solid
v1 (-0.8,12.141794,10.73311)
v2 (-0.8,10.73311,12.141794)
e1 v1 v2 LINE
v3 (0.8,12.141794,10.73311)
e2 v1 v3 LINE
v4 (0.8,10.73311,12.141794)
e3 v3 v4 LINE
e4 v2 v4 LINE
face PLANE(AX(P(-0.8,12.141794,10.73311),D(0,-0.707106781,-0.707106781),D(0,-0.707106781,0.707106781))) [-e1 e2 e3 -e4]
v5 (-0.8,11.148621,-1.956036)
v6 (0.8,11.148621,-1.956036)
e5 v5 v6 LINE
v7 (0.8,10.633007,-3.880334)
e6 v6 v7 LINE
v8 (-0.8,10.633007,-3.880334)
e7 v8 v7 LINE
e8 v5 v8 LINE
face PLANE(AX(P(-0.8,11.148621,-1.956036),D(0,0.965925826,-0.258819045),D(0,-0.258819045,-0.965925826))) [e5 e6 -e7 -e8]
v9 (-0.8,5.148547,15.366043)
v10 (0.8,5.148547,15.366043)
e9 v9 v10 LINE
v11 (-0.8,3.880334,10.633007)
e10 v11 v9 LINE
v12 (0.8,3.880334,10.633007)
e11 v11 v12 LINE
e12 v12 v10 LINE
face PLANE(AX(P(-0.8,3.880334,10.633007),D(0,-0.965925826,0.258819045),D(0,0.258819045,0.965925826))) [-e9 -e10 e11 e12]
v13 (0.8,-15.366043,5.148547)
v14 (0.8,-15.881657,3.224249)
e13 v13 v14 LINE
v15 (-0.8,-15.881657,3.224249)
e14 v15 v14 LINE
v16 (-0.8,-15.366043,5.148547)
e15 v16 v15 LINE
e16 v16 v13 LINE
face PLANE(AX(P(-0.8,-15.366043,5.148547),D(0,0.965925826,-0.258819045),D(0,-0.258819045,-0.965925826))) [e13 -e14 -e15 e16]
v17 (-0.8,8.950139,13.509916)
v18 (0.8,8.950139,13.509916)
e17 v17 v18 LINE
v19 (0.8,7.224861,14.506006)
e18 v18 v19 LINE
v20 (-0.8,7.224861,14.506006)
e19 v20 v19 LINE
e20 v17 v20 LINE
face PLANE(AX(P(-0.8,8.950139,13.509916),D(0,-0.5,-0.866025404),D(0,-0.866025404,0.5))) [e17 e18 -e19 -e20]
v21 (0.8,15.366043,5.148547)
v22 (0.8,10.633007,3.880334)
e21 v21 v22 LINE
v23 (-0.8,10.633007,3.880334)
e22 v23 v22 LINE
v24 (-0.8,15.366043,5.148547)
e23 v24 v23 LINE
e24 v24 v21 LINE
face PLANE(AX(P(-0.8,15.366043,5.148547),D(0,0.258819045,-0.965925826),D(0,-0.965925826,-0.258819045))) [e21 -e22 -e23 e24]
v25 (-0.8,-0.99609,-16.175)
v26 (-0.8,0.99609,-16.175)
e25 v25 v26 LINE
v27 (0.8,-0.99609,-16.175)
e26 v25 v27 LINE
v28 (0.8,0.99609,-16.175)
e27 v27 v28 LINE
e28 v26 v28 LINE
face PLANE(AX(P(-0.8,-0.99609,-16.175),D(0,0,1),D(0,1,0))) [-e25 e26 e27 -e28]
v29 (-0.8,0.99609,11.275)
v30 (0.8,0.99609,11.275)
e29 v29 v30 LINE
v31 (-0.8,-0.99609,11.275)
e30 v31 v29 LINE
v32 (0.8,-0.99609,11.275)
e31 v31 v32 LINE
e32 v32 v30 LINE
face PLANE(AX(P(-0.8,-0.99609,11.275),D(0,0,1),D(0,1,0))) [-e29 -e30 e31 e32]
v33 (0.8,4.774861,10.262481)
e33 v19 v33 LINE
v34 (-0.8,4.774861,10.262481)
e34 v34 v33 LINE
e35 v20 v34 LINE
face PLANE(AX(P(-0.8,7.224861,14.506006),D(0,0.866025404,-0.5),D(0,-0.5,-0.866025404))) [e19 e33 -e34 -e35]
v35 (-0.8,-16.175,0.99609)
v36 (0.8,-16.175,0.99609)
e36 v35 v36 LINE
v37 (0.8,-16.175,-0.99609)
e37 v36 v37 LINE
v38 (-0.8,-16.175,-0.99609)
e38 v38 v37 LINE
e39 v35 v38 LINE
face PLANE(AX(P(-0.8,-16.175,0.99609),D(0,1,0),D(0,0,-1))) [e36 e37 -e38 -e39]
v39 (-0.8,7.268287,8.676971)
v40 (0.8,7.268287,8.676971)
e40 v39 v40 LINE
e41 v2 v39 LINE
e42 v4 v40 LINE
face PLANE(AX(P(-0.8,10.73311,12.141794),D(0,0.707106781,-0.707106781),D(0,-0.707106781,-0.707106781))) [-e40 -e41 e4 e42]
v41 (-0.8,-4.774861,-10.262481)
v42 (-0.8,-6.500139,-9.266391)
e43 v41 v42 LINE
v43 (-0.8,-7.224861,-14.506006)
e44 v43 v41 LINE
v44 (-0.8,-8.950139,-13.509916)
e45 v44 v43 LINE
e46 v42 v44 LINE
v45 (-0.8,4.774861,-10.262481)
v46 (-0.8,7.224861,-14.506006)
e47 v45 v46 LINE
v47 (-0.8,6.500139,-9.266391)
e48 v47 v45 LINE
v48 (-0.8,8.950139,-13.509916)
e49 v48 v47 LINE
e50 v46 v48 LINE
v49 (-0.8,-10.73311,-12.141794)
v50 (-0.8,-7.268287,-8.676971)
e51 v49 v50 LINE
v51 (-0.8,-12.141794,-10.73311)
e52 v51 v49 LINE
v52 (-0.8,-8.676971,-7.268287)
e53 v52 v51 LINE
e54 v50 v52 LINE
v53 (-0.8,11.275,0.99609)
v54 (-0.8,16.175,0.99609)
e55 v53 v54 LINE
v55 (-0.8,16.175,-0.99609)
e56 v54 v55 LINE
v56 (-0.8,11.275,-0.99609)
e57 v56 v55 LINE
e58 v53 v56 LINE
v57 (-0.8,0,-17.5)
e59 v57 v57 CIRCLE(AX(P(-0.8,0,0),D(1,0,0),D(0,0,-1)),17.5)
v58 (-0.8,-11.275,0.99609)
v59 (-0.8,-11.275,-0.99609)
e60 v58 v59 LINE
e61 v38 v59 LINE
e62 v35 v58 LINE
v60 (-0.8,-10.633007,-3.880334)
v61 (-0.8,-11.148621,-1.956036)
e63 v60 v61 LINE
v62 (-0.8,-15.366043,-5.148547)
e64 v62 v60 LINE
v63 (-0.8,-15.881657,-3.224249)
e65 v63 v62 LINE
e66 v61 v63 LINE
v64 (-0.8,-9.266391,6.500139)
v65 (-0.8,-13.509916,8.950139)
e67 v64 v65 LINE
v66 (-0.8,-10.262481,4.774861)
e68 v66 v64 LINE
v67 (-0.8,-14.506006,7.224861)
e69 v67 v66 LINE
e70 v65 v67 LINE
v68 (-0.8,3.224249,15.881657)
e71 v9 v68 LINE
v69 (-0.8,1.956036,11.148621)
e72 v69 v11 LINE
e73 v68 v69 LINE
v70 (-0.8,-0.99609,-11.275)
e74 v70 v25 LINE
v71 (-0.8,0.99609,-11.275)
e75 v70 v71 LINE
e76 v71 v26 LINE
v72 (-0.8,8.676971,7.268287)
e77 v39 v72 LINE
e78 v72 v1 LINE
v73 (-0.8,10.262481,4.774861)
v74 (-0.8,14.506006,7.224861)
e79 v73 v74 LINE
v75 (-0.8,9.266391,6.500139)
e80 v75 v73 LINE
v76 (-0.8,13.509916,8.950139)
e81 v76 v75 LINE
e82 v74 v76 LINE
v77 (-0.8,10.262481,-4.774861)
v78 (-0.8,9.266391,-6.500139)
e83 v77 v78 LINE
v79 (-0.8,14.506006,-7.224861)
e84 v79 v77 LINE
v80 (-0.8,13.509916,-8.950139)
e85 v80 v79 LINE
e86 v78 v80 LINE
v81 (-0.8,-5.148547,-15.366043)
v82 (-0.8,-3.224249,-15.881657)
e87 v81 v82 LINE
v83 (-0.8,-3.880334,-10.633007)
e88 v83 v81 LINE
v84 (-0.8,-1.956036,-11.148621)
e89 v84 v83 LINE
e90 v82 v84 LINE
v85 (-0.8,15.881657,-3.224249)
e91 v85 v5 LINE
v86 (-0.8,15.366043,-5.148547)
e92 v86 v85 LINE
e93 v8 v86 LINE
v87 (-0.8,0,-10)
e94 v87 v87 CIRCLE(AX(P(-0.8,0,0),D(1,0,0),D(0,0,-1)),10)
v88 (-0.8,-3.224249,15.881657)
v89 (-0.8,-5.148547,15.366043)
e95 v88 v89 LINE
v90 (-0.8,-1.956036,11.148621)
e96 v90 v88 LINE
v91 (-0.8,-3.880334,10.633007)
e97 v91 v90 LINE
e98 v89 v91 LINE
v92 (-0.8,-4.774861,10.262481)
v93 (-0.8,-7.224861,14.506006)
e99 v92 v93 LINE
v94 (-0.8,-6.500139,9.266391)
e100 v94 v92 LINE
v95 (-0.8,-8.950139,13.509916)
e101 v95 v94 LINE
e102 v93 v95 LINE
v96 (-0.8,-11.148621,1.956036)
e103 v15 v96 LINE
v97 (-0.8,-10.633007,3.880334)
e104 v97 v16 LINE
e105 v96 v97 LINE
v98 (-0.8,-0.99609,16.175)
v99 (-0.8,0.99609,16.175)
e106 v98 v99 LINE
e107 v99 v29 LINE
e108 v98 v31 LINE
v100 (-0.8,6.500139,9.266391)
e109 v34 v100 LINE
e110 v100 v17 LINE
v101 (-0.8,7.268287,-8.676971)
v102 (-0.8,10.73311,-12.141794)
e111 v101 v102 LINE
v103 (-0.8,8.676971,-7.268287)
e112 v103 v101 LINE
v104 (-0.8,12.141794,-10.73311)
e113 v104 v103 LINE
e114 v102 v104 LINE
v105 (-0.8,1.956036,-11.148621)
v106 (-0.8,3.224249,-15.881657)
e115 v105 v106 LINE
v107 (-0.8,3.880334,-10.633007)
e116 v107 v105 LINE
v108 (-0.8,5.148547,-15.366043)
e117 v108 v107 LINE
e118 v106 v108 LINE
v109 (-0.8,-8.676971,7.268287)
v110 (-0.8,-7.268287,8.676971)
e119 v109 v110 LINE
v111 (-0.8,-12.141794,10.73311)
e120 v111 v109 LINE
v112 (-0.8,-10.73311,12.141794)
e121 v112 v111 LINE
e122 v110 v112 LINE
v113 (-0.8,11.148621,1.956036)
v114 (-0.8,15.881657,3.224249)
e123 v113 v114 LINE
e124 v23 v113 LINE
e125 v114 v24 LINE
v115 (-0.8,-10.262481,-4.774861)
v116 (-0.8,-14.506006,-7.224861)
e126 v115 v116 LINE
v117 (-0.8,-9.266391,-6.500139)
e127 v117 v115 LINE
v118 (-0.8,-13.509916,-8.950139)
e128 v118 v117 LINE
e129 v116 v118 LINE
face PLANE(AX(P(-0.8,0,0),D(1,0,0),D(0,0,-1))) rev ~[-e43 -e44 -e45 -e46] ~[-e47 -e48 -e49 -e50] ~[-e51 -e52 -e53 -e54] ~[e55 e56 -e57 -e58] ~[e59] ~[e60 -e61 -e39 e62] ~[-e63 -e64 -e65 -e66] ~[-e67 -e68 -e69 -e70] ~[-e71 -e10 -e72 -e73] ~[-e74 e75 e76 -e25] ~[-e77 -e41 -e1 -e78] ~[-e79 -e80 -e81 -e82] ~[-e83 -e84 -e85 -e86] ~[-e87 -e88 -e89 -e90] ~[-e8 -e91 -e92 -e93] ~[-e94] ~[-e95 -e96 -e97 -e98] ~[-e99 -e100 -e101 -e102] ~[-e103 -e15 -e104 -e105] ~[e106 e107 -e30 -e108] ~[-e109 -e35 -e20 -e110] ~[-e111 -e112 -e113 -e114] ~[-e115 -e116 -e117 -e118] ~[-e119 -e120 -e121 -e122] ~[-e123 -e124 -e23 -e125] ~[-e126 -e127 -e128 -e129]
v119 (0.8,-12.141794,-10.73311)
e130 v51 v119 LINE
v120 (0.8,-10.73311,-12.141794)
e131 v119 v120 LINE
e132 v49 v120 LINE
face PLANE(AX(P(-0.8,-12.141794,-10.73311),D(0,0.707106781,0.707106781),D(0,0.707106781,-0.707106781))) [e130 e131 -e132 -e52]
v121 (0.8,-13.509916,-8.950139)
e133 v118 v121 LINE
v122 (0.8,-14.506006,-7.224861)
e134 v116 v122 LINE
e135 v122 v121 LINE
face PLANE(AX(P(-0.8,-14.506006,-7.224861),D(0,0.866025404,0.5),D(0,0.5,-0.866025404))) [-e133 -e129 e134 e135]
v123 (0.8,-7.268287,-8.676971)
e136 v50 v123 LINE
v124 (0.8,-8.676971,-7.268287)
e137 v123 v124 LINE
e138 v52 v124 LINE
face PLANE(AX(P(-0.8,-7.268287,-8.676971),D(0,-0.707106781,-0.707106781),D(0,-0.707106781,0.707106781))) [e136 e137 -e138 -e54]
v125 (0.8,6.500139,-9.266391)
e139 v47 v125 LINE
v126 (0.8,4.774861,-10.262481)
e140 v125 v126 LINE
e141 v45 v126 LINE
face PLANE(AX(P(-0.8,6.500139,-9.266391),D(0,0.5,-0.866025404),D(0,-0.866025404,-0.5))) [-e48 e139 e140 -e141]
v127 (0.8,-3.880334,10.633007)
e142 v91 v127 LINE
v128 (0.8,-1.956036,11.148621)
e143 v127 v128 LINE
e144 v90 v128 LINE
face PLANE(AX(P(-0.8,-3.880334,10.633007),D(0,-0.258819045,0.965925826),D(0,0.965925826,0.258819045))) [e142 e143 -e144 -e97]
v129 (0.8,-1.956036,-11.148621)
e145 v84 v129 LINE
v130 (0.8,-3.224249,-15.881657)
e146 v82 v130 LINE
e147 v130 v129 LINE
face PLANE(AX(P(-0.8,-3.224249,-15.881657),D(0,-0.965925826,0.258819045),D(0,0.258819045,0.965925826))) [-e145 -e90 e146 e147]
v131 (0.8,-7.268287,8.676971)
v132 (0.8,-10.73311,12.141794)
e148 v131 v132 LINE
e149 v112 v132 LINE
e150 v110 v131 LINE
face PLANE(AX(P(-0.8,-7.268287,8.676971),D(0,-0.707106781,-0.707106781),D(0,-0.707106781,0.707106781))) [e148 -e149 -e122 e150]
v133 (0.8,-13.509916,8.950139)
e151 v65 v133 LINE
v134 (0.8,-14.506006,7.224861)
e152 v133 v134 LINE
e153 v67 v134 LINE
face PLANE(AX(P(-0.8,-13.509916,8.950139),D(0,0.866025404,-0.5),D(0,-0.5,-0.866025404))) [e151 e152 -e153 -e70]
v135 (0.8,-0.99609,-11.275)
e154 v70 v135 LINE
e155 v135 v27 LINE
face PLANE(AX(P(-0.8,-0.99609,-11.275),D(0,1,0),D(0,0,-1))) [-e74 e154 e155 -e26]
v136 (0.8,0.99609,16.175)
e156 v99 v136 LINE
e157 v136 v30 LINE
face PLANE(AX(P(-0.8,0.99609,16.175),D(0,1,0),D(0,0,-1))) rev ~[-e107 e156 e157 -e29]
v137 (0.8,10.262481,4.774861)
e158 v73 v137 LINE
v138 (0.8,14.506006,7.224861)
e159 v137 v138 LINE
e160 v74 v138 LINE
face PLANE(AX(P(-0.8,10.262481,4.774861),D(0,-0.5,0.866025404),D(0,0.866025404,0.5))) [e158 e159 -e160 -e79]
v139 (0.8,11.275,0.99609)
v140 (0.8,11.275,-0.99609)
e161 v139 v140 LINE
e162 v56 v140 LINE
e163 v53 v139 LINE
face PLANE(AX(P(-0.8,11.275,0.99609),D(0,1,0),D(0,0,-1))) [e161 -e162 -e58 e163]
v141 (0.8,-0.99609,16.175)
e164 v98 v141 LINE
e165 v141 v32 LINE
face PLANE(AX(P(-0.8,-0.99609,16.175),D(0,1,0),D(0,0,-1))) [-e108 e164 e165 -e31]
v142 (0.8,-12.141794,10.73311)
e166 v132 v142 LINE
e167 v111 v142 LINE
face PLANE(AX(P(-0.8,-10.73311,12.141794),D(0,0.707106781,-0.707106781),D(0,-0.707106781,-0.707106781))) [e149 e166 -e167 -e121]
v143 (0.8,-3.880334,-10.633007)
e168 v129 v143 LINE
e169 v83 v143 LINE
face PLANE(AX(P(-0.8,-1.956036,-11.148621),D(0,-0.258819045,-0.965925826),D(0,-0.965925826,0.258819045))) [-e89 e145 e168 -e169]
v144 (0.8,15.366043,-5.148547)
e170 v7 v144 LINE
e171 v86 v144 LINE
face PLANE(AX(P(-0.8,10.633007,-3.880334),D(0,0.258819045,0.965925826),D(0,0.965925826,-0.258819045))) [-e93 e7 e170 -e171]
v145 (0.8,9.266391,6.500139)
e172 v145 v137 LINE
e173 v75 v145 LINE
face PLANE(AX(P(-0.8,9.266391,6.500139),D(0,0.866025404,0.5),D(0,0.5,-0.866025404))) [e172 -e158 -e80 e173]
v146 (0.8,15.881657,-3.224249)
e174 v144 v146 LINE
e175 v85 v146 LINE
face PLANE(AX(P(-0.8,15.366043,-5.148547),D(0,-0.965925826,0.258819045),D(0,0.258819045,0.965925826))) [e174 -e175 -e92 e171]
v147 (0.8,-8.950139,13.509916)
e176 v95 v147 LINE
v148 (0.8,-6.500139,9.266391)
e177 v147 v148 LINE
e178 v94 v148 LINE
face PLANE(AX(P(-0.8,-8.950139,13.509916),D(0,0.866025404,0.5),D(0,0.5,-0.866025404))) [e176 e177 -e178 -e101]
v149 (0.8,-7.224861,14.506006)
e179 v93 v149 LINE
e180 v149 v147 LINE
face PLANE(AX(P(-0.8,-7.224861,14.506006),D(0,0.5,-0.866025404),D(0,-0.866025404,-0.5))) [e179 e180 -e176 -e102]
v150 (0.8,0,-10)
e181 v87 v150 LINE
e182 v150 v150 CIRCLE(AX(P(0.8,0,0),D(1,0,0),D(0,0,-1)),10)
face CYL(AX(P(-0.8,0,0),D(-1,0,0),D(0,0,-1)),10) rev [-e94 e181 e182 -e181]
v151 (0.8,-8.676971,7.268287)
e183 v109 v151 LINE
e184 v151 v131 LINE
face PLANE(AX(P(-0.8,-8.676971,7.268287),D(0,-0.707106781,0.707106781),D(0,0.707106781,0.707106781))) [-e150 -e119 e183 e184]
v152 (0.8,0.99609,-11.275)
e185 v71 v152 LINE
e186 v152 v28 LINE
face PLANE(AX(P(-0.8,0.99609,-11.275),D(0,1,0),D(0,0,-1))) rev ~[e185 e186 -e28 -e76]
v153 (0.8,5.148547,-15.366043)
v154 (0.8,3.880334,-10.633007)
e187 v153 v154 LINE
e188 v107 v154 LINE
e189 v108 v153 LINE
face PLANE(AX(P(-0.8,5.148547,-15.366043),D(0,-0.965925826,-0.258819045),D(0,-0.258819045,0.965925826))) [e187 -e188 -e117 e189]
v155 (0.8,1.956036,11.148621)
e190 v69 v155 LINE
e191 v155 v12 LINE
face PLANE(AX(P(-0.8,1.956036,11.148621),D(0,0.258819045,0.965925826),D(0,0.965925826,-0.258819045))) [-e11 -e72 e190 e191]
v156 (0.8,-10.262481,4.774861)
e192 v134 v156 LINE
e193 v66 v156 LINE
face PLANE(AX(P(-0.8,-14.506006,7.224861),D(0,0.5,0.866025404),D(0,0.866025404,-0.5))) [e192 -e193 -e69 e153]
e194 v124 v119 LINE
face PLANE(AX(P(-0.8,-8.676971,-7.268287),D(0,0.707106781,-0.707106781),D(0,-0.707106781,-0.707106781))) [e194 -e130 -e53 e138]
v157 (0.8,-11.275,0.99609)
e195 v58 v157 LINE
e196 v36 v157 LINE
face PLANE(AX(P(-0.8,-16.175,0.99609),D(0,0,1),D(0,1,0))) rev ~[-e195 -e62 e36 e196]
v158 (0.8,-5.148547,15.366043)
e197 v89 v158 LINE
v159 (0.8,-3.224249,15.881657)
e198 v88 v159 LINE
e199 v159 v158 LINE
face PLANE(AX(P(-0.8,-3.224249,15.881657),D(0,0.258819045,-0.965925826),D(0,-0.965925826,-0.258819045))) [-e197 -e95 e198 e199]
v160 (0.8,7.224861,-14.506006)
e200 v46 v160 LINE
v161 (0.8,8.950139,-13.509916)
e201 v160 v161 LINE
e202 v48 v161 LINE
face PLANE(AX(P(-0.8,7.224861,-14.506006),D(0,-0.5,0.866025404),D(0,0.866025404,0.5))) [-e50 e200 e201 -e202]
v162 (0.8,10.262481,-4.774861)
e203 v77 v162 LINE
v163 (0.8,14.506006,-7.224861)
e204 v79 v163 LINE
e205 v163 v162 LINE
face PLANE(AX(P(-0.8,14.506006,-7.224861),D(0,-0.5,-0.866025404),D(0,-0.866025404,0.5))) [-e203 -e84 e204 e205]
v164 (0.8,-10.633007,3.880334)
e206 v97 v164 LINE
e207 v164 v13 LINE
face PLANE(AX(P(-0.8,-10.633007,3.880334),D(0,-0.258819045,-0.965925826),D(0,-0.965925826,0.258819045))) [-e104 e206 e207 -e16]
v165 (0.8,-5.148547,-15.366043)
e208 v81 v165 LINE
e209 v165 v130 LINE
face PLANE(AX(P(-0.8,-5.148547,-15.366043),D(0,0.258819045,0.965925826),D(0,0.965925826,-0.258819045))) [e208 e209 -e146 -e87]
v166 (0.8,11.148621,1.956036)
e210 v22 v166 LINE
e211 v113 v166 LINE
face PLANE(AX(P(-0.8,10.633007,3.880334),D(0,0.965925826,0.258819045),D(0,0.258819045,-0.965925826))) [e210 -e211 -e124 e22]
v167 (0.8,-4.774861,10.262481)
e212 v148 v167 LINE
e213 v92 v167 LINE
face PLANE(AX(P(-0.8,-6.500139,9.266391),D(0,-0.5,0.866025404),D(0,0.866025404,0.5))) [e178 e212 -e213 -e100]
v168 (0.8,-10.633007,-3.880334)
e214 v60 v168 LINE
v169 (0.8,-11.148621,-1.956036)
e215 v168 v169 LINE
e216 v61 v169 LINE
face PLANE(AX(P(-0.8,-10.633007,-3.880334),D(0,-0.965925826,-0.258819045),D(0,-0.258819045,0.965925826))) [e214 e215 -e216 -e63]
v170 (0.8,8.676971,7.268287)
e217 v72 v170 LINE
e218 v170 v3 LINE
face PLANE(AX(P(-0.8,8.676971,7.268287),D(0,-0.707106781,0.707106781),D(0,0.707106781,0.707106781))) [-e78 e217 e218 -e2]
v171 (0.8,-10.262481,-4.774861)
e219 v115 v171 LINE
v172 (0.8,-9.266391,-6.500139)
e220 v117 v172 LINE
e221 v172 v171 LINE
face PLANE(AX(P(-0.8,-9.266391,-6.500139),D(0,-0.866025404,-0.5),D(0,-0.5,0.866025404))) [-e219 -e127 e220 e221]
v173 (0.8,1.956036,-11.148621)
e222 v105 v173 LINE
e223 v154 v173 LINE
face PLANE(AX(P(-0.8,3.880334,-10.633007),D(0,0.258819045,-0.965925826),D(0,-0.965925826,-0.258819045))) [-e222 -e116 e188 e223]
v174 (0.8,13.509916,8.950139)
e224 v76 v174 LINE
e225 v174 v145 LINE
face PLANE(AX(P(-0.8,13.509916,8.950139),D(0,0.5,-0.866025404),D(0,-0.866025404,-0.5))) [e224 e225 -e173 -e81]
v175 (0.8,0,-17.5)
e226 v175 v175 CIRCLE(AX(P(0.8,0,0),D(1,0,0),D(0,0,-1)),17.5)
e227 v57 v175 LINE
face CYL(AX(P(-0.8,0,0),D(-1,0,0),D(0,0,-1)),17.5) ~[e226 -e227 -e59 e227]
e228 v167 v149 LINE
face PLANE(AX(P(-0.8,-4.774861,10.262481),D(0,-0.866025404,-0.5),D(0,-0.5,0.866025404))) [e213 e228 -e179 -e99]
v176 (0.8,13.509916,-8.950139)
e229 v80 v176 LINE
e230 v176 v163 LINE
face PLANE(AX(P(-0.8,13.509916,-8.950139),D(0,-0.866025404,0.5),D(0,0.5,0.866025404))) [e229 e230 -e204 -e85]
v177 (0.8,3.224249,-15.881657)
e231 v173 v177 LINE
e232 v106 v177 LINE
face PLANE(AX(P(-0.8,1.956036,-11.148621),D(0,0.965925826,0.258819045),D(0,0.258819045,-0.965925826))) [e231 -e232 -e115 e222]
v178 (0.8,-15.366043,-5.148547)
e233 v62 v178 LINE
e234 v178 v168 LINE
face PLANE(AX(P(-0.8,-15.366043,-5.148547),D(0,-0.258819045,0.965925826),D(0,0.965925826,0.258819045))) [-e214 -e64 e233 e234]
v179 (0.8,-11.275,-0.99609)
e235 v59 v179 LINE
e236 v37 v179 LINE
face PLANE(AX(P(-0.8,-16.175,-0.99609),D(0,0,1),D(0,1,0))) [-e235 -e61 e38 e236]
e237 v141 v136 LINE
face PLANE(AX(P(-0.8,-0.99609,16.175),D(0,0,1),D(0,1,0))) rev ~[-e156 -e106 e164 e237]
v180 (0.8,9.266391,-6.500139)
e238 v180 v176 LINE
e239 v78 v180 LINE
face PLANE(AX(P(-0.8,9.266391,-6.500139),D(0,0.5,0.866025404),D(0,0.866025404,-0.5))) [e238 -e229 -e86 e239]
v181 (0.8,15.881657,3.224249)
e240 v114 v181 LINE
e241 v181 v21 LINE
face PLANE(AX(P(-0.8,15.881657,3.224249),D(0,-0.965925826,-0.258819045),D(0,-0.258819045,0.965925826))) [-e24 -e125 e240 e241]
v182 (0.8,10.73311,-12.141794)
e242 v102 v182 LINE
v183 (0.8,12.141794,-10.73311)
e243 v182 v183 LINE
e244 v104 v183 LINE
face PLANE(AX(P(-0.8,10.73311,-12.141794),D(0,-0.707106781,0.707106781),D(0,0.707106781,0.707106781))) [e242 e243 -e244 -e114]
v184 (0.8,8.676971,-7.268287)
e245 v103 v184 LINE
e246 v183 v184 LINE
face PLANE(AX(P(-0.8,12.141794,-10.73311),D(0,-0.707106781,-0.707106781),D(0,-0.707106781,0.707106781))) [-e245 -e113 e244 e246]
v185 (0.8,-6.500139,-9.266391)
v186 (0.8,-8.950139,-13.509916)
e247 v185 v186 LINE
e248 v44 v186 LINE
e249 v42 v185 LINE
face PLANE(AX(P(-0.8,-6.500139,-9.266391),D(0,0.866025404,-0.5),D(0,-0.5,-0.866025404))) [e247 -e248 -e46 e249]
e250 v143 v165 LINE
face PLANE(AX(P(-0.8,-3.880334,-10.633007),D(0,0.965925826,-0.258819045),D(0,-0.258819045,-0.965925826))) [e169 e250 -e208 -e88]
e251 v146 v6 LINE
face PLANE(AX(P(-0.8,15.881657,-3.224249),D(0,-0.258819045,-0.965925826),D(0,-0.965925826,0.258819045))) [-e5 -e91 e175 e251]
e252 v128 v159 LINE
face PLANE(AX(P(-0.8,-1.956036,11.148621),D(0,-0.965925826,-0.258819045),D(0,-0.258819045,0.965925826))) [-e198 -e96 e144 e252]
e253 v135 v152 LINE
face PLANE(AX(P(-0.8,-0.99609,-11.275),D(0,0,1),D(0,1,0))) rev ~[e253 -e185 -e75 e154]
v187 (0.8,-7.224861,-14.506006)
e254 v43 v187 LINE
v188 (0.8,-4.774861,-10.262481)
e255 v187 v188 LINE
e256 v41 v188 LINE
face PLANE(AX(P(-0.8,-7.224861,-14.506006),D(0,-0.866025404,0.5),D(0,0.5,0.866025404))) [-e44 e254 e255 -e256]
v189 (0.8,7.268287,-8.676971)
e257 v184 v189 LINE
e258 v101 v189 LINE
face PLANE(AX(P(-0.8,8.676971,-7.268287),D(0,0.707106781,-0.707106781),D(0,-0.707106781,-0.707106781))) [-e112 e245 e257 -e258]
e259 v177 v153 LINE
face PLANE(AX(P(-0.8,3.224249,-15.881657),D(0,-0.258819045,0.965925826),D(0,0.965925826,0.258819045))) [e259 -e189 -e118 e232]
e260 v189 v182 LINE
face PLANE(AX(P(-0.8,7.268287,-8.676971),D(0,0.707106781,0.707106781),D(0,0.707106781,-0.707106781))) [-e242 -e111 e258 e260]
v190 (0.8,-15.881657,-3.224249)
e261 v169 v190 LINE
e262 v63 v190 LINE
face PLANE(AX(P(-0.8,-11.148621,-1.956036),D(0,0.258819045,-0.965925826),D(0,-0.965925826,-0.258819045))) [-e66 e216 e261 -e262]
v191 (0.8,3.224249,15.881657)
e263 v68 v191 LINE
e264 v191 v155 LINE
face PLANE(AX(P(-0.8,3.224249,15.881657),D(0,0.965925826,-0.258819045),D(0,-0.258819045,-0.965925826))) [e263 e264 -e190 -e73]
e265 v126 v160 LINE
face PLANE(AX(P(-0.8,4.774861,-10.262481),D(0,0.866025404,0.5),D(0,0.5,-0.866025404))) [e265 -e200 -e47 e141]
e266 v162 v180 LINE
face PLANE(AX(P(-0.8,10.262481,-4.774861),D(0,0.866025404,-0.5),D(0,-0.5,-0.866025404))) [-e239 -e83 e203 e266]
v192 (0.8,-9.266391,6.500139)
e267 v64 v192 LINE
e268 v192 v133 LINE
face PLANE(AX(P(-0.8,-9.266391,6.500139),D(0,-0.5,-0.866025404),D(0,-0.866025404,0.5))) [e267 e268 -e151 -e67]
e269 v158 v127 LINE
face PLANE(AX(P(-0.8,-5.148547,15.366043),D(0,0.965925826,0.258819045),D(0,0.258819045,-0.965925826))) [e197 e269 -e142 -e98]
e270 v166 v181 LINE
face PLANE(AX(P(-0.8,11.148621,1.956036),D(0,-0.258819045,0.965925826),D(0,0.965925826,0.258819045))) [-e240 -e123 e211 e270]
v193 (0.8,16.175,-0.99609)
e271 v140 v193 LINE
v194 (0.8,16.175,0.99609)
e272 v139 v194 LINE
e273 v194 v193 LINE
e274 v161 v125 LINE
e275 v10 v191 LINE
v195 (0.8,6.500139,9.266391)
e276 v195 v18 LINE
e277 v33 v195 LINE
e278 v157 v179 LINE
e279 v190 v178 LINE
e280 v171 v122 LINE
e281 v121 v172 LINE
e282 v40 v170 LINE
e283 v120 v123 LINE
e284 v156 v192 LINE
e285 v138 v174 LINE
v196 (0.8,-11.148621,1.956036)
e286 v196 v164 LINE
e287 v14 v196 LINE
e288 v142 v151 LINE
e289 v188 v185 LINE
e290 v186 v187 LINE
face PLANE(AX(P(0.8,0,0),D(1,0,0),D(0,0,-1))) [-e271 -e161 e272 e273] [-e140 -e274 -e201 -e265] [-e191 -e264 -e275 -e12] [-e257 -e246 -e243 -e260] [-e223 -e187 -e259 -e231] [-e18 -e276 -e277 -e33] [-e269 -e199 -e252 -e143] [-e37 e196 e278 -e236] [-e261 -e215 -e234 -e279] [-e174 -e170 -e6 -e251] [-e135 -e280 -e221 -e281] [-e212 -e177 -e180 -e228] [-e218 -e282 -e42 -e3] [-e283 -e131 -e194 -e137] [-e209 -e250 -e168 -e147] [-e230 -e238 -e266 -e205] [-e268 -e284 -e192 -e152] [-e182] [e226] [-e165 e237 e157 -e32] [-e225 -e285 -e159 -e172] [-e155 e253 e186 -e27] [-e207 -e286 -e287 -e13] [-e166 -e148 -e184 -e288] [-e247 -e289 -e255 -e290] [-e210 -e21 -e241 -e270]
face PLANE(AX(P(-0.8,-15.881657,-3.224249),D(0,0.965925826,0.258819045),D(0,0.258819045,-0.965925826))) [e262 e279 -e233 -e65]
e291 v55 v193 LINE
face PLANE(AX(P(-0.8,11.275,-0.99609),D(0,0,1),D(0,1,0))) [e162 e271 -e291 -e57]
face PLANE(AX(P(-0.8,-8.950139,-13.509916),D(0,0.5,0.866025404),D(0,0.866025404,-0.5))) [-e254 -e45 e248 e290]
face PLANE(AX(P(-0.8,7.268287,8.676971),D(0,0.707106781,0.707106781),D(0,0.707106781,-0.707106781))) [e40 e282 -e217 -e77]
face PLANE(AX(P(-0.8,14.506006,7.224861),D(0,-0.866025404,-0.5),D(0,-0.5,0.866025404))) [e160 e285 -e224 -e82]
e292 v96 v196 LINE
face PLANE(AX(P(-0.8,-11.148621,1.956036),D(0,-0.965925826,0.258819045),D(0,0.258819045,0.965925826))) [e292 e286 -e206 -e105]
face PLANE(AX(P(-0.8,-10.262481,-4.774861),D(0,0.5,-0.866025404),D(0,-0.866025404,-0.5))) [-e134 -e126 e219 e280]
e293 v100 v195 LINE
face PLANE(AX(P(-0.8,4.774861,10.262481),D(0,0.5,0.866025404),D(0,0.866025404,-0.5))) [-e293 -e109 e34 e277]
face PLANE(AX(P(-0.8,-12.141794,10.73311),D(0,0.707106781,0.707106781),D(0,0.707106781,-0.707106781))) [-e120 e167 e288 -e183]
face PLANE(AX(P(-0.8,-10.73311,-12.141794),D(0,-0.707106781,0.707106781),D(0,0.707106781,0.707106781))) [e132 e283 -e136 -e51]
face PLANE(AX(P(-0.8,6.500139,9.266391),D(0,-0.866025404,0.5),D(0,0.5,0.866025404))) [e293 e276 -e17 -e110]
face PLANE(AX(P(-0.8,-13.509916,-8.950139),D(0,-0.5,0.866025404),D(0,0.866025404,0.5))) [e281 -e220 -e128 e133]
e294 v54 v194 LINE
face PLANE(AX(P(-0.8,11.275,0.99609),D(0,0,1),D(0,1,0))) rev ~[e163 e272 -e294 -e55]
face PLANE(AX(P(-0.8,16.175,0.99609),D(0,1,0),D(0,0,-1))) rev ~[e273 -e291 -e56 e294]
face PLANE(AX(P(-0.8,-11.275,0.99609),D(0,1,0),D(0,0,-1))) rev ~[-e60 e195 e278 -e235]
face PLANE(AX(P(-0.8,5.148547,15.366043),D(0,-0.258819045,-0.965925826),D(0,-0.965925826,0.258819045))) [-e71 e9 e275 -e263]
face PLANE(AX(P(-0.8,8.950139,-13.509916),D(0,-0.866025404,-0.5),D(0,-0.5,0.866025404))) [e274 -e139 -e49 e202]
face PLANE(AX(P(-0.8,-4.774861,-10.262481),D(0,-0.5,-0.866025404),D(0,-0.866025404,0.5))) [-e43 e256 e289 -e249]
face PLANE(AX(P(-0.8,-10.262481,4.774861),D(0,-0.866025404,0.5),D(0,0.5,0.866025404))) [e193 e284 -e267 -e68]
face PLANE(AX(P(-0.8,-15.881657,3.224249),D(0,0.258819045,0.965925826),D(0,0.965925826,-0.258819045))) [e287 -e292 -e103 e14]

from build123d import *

# Parameters (mm, degrees)
BOSS_EXTRUDE1_DEPTH      = 0.8
BOSS_EXTRUDE1_DEPTH_BACK = 0.8
SKETCH1_R                = 17.5
SKETCH1_R_2              = 10
SKETCH1_W                = 4.9
SKETCH1_H                = 1.992179872
SKETCH1_W_2              = 1.992179872
SKETCH1_H_2              = 4.9


with BuildPart() as part:
    # Sketch1 → Boss-Extrude1 (new, two sides: drawn at the far end of the back side and taken through both)
    with BuildSketch(Plane(origin=(0, 0, 0), x_dir=(0, 0, -1), z_dir=(1, 0, 0)).offset(-BOSS_EXTRUDE1_DEPTH_BACK)):
        Circle(SKETCH1_R)
        Circle(SKETCH1_R_2, mode=Mode.SUBTRACT)
        with Locations((13.725, 0)):
            Rectangle(SKETCH1_W, SKETCH1_H, mode=Mode.SUBTRACT)
        Polygon((10.633006645, 3.880333728), (11.148620737, 1.956035739), (15.881657286, 3.22424906), (15.366043194, 5.148547049), align=None, mode=Mode.SUBTRACT)
        Polygon((10.633006645, -3.880333728), (15.366043194, -5.148547049), (15.881657286, -3.22424906), (11.148620737, -1.956035739), align=None, mode=Mode.SUBTRACT)
        Polygon((9.26639146, 6.500139189), (10.262481396, 4.774860811), (14.506005874, 7.224860811), (13.509915938, 8.950139189), align=None, mode=Mode.SUBTRACT)
        Polygon((9.26639146, -6.500139189), (13.509915938, -8.950139189), (14.506005874, -7.224860811), (10.262481396, -4.774860811), align=None, mode=Mode.SUBTRACT)
        Polygon((7.26828701, 8.676970906), (8.676970906, 7.26828701), (12.141794134, 10.733110237), (10.733110237, 12.141794134), align=None, mode=Mode.SUBTRACT)
        Polygon((7.26828701, -8.676970906), (10.733110237, -12.141794134), (12.141794134, -10.733110237), (8.676970906, -7.26828701), align=None, mode=Mode.SUBTRACT)
        Polygon((4.774860811, 10.262481396), (6.500139189, 9.26639146), (8.950139189, 13.509915938), (7.224860811, 14.506005874), align=None, mode=Mode.SUBTRACT)
        Polygon((4.774860811, -10.262481396), (7.224860811, -14.506005874), (8.950139189, -13.509915938), (6.500139189, -9.26639146), align=None, mode=Mode.SUBTRACT)
        Polygon((1.956035739, 11.148620737), (3.880333728, 10.633006645), (5.148547049, 15.366043194), (3.22424906, 15.881657286), align=None, mode=Mode.SUBTRACT)
        Polygon((1.956035739, -11.148620737), (3.22424906, -15.881657286), (5.148547049, -15.366043194), (3.880333728, -10.633006645), align=None, mode=Mode.SUBTRACT)
        with Locations((0, 13.725)):
            Rectangle(SKETCH1_W_2, SKETCH1_H_2, mode=Mode.SUBTRACT)
        with Locations((0, -13.725)):
            Rectangle(SKETCH1_W_2, SKETCH1_H_2, mode=Mode.SUBTRACT)
        Polygon((-5.148547049, 15.366043194), (-3.880333728, 10.633006645), (-1.956035739, 11.148620737), (-3.22424906, 15.881657286), align=None, mode=Mode.SUBTRACT)
        Polygon((-5.148547049, -15.366043194), (-3.22424906, -15.881657286), (-1.956035739, -11.148620737), (-3.880333728, -10.633006645), align=None, mode=Mode.SUBTRACT)
        Polygon((-8.950139189, 13.509915938), (-6.500139189, 9.26639146), (-4.774860811, 10.262481396), (-7.224860811, 14.506005874), align=None, mode=Mode.SUBTRACT)
        Polygon((-8.950139189, -13.509915938), (-7.224860811, -14.506005874), (-4.774860811, -10.262481396), (-6.500139189, -9.26639146), align=None, mode=Mode.SUBTRACT)
        Polygon((-12.141794134, 10.733110237), (-8.676970906, 7.26828701), (-7.26828701, 8.676970906), (-10.733110237, 12.141794134), align=None, mode=Mode.SUBTRACT)
        Polygon((-12.141794134, -10.733110237), (-10.733110237, -12.141794134), (-7.26828701, -8.676970906), (-8.676970906, -7.26828701), align=None, mode=Mode.SUBTRACT)
        Polygon((-14.506005874, 7.224860811), (-10.262481396, 4.774860811), (-9.26639146, 6.500139189), (-13.509915938, 8.950139189), align=None, mode=Mode.SUBTRACT)
        Polygon((-14.506005874, -7.224860811), (-13.509915938, -8.950139189), (-9.26639146, -6.500139189), (-10.262481396, -4.774860811), align=None, mode=Mode.SUBTRACT)
        Polygon((-15.881657286, 3.22424906), (-11.148620737, 1.956035739), (-10.633006645, 3.880333728), (-15.366043194, 5.148547049), align=None, mode=Mode.SUBTRACT)
        Polygon((-15.881657286, -3.22424906), (-15.366043194, -5.148547049), (-10.633006645, -3.880333728), (-11.148620737, -1.956035739), align=None, mode=Mode.SUBTRACT)
        with Locations((-13.725, 0)):
            Rectangle(SKETCH1_W, SKETCH1_H, mode=Mode.SUBTRACT)
    extrude(amount=BOSS_EXTRUDE1_DEPTH + BOSS_EXTRUDE1_DEPTH_BACK)


solid = part.part
